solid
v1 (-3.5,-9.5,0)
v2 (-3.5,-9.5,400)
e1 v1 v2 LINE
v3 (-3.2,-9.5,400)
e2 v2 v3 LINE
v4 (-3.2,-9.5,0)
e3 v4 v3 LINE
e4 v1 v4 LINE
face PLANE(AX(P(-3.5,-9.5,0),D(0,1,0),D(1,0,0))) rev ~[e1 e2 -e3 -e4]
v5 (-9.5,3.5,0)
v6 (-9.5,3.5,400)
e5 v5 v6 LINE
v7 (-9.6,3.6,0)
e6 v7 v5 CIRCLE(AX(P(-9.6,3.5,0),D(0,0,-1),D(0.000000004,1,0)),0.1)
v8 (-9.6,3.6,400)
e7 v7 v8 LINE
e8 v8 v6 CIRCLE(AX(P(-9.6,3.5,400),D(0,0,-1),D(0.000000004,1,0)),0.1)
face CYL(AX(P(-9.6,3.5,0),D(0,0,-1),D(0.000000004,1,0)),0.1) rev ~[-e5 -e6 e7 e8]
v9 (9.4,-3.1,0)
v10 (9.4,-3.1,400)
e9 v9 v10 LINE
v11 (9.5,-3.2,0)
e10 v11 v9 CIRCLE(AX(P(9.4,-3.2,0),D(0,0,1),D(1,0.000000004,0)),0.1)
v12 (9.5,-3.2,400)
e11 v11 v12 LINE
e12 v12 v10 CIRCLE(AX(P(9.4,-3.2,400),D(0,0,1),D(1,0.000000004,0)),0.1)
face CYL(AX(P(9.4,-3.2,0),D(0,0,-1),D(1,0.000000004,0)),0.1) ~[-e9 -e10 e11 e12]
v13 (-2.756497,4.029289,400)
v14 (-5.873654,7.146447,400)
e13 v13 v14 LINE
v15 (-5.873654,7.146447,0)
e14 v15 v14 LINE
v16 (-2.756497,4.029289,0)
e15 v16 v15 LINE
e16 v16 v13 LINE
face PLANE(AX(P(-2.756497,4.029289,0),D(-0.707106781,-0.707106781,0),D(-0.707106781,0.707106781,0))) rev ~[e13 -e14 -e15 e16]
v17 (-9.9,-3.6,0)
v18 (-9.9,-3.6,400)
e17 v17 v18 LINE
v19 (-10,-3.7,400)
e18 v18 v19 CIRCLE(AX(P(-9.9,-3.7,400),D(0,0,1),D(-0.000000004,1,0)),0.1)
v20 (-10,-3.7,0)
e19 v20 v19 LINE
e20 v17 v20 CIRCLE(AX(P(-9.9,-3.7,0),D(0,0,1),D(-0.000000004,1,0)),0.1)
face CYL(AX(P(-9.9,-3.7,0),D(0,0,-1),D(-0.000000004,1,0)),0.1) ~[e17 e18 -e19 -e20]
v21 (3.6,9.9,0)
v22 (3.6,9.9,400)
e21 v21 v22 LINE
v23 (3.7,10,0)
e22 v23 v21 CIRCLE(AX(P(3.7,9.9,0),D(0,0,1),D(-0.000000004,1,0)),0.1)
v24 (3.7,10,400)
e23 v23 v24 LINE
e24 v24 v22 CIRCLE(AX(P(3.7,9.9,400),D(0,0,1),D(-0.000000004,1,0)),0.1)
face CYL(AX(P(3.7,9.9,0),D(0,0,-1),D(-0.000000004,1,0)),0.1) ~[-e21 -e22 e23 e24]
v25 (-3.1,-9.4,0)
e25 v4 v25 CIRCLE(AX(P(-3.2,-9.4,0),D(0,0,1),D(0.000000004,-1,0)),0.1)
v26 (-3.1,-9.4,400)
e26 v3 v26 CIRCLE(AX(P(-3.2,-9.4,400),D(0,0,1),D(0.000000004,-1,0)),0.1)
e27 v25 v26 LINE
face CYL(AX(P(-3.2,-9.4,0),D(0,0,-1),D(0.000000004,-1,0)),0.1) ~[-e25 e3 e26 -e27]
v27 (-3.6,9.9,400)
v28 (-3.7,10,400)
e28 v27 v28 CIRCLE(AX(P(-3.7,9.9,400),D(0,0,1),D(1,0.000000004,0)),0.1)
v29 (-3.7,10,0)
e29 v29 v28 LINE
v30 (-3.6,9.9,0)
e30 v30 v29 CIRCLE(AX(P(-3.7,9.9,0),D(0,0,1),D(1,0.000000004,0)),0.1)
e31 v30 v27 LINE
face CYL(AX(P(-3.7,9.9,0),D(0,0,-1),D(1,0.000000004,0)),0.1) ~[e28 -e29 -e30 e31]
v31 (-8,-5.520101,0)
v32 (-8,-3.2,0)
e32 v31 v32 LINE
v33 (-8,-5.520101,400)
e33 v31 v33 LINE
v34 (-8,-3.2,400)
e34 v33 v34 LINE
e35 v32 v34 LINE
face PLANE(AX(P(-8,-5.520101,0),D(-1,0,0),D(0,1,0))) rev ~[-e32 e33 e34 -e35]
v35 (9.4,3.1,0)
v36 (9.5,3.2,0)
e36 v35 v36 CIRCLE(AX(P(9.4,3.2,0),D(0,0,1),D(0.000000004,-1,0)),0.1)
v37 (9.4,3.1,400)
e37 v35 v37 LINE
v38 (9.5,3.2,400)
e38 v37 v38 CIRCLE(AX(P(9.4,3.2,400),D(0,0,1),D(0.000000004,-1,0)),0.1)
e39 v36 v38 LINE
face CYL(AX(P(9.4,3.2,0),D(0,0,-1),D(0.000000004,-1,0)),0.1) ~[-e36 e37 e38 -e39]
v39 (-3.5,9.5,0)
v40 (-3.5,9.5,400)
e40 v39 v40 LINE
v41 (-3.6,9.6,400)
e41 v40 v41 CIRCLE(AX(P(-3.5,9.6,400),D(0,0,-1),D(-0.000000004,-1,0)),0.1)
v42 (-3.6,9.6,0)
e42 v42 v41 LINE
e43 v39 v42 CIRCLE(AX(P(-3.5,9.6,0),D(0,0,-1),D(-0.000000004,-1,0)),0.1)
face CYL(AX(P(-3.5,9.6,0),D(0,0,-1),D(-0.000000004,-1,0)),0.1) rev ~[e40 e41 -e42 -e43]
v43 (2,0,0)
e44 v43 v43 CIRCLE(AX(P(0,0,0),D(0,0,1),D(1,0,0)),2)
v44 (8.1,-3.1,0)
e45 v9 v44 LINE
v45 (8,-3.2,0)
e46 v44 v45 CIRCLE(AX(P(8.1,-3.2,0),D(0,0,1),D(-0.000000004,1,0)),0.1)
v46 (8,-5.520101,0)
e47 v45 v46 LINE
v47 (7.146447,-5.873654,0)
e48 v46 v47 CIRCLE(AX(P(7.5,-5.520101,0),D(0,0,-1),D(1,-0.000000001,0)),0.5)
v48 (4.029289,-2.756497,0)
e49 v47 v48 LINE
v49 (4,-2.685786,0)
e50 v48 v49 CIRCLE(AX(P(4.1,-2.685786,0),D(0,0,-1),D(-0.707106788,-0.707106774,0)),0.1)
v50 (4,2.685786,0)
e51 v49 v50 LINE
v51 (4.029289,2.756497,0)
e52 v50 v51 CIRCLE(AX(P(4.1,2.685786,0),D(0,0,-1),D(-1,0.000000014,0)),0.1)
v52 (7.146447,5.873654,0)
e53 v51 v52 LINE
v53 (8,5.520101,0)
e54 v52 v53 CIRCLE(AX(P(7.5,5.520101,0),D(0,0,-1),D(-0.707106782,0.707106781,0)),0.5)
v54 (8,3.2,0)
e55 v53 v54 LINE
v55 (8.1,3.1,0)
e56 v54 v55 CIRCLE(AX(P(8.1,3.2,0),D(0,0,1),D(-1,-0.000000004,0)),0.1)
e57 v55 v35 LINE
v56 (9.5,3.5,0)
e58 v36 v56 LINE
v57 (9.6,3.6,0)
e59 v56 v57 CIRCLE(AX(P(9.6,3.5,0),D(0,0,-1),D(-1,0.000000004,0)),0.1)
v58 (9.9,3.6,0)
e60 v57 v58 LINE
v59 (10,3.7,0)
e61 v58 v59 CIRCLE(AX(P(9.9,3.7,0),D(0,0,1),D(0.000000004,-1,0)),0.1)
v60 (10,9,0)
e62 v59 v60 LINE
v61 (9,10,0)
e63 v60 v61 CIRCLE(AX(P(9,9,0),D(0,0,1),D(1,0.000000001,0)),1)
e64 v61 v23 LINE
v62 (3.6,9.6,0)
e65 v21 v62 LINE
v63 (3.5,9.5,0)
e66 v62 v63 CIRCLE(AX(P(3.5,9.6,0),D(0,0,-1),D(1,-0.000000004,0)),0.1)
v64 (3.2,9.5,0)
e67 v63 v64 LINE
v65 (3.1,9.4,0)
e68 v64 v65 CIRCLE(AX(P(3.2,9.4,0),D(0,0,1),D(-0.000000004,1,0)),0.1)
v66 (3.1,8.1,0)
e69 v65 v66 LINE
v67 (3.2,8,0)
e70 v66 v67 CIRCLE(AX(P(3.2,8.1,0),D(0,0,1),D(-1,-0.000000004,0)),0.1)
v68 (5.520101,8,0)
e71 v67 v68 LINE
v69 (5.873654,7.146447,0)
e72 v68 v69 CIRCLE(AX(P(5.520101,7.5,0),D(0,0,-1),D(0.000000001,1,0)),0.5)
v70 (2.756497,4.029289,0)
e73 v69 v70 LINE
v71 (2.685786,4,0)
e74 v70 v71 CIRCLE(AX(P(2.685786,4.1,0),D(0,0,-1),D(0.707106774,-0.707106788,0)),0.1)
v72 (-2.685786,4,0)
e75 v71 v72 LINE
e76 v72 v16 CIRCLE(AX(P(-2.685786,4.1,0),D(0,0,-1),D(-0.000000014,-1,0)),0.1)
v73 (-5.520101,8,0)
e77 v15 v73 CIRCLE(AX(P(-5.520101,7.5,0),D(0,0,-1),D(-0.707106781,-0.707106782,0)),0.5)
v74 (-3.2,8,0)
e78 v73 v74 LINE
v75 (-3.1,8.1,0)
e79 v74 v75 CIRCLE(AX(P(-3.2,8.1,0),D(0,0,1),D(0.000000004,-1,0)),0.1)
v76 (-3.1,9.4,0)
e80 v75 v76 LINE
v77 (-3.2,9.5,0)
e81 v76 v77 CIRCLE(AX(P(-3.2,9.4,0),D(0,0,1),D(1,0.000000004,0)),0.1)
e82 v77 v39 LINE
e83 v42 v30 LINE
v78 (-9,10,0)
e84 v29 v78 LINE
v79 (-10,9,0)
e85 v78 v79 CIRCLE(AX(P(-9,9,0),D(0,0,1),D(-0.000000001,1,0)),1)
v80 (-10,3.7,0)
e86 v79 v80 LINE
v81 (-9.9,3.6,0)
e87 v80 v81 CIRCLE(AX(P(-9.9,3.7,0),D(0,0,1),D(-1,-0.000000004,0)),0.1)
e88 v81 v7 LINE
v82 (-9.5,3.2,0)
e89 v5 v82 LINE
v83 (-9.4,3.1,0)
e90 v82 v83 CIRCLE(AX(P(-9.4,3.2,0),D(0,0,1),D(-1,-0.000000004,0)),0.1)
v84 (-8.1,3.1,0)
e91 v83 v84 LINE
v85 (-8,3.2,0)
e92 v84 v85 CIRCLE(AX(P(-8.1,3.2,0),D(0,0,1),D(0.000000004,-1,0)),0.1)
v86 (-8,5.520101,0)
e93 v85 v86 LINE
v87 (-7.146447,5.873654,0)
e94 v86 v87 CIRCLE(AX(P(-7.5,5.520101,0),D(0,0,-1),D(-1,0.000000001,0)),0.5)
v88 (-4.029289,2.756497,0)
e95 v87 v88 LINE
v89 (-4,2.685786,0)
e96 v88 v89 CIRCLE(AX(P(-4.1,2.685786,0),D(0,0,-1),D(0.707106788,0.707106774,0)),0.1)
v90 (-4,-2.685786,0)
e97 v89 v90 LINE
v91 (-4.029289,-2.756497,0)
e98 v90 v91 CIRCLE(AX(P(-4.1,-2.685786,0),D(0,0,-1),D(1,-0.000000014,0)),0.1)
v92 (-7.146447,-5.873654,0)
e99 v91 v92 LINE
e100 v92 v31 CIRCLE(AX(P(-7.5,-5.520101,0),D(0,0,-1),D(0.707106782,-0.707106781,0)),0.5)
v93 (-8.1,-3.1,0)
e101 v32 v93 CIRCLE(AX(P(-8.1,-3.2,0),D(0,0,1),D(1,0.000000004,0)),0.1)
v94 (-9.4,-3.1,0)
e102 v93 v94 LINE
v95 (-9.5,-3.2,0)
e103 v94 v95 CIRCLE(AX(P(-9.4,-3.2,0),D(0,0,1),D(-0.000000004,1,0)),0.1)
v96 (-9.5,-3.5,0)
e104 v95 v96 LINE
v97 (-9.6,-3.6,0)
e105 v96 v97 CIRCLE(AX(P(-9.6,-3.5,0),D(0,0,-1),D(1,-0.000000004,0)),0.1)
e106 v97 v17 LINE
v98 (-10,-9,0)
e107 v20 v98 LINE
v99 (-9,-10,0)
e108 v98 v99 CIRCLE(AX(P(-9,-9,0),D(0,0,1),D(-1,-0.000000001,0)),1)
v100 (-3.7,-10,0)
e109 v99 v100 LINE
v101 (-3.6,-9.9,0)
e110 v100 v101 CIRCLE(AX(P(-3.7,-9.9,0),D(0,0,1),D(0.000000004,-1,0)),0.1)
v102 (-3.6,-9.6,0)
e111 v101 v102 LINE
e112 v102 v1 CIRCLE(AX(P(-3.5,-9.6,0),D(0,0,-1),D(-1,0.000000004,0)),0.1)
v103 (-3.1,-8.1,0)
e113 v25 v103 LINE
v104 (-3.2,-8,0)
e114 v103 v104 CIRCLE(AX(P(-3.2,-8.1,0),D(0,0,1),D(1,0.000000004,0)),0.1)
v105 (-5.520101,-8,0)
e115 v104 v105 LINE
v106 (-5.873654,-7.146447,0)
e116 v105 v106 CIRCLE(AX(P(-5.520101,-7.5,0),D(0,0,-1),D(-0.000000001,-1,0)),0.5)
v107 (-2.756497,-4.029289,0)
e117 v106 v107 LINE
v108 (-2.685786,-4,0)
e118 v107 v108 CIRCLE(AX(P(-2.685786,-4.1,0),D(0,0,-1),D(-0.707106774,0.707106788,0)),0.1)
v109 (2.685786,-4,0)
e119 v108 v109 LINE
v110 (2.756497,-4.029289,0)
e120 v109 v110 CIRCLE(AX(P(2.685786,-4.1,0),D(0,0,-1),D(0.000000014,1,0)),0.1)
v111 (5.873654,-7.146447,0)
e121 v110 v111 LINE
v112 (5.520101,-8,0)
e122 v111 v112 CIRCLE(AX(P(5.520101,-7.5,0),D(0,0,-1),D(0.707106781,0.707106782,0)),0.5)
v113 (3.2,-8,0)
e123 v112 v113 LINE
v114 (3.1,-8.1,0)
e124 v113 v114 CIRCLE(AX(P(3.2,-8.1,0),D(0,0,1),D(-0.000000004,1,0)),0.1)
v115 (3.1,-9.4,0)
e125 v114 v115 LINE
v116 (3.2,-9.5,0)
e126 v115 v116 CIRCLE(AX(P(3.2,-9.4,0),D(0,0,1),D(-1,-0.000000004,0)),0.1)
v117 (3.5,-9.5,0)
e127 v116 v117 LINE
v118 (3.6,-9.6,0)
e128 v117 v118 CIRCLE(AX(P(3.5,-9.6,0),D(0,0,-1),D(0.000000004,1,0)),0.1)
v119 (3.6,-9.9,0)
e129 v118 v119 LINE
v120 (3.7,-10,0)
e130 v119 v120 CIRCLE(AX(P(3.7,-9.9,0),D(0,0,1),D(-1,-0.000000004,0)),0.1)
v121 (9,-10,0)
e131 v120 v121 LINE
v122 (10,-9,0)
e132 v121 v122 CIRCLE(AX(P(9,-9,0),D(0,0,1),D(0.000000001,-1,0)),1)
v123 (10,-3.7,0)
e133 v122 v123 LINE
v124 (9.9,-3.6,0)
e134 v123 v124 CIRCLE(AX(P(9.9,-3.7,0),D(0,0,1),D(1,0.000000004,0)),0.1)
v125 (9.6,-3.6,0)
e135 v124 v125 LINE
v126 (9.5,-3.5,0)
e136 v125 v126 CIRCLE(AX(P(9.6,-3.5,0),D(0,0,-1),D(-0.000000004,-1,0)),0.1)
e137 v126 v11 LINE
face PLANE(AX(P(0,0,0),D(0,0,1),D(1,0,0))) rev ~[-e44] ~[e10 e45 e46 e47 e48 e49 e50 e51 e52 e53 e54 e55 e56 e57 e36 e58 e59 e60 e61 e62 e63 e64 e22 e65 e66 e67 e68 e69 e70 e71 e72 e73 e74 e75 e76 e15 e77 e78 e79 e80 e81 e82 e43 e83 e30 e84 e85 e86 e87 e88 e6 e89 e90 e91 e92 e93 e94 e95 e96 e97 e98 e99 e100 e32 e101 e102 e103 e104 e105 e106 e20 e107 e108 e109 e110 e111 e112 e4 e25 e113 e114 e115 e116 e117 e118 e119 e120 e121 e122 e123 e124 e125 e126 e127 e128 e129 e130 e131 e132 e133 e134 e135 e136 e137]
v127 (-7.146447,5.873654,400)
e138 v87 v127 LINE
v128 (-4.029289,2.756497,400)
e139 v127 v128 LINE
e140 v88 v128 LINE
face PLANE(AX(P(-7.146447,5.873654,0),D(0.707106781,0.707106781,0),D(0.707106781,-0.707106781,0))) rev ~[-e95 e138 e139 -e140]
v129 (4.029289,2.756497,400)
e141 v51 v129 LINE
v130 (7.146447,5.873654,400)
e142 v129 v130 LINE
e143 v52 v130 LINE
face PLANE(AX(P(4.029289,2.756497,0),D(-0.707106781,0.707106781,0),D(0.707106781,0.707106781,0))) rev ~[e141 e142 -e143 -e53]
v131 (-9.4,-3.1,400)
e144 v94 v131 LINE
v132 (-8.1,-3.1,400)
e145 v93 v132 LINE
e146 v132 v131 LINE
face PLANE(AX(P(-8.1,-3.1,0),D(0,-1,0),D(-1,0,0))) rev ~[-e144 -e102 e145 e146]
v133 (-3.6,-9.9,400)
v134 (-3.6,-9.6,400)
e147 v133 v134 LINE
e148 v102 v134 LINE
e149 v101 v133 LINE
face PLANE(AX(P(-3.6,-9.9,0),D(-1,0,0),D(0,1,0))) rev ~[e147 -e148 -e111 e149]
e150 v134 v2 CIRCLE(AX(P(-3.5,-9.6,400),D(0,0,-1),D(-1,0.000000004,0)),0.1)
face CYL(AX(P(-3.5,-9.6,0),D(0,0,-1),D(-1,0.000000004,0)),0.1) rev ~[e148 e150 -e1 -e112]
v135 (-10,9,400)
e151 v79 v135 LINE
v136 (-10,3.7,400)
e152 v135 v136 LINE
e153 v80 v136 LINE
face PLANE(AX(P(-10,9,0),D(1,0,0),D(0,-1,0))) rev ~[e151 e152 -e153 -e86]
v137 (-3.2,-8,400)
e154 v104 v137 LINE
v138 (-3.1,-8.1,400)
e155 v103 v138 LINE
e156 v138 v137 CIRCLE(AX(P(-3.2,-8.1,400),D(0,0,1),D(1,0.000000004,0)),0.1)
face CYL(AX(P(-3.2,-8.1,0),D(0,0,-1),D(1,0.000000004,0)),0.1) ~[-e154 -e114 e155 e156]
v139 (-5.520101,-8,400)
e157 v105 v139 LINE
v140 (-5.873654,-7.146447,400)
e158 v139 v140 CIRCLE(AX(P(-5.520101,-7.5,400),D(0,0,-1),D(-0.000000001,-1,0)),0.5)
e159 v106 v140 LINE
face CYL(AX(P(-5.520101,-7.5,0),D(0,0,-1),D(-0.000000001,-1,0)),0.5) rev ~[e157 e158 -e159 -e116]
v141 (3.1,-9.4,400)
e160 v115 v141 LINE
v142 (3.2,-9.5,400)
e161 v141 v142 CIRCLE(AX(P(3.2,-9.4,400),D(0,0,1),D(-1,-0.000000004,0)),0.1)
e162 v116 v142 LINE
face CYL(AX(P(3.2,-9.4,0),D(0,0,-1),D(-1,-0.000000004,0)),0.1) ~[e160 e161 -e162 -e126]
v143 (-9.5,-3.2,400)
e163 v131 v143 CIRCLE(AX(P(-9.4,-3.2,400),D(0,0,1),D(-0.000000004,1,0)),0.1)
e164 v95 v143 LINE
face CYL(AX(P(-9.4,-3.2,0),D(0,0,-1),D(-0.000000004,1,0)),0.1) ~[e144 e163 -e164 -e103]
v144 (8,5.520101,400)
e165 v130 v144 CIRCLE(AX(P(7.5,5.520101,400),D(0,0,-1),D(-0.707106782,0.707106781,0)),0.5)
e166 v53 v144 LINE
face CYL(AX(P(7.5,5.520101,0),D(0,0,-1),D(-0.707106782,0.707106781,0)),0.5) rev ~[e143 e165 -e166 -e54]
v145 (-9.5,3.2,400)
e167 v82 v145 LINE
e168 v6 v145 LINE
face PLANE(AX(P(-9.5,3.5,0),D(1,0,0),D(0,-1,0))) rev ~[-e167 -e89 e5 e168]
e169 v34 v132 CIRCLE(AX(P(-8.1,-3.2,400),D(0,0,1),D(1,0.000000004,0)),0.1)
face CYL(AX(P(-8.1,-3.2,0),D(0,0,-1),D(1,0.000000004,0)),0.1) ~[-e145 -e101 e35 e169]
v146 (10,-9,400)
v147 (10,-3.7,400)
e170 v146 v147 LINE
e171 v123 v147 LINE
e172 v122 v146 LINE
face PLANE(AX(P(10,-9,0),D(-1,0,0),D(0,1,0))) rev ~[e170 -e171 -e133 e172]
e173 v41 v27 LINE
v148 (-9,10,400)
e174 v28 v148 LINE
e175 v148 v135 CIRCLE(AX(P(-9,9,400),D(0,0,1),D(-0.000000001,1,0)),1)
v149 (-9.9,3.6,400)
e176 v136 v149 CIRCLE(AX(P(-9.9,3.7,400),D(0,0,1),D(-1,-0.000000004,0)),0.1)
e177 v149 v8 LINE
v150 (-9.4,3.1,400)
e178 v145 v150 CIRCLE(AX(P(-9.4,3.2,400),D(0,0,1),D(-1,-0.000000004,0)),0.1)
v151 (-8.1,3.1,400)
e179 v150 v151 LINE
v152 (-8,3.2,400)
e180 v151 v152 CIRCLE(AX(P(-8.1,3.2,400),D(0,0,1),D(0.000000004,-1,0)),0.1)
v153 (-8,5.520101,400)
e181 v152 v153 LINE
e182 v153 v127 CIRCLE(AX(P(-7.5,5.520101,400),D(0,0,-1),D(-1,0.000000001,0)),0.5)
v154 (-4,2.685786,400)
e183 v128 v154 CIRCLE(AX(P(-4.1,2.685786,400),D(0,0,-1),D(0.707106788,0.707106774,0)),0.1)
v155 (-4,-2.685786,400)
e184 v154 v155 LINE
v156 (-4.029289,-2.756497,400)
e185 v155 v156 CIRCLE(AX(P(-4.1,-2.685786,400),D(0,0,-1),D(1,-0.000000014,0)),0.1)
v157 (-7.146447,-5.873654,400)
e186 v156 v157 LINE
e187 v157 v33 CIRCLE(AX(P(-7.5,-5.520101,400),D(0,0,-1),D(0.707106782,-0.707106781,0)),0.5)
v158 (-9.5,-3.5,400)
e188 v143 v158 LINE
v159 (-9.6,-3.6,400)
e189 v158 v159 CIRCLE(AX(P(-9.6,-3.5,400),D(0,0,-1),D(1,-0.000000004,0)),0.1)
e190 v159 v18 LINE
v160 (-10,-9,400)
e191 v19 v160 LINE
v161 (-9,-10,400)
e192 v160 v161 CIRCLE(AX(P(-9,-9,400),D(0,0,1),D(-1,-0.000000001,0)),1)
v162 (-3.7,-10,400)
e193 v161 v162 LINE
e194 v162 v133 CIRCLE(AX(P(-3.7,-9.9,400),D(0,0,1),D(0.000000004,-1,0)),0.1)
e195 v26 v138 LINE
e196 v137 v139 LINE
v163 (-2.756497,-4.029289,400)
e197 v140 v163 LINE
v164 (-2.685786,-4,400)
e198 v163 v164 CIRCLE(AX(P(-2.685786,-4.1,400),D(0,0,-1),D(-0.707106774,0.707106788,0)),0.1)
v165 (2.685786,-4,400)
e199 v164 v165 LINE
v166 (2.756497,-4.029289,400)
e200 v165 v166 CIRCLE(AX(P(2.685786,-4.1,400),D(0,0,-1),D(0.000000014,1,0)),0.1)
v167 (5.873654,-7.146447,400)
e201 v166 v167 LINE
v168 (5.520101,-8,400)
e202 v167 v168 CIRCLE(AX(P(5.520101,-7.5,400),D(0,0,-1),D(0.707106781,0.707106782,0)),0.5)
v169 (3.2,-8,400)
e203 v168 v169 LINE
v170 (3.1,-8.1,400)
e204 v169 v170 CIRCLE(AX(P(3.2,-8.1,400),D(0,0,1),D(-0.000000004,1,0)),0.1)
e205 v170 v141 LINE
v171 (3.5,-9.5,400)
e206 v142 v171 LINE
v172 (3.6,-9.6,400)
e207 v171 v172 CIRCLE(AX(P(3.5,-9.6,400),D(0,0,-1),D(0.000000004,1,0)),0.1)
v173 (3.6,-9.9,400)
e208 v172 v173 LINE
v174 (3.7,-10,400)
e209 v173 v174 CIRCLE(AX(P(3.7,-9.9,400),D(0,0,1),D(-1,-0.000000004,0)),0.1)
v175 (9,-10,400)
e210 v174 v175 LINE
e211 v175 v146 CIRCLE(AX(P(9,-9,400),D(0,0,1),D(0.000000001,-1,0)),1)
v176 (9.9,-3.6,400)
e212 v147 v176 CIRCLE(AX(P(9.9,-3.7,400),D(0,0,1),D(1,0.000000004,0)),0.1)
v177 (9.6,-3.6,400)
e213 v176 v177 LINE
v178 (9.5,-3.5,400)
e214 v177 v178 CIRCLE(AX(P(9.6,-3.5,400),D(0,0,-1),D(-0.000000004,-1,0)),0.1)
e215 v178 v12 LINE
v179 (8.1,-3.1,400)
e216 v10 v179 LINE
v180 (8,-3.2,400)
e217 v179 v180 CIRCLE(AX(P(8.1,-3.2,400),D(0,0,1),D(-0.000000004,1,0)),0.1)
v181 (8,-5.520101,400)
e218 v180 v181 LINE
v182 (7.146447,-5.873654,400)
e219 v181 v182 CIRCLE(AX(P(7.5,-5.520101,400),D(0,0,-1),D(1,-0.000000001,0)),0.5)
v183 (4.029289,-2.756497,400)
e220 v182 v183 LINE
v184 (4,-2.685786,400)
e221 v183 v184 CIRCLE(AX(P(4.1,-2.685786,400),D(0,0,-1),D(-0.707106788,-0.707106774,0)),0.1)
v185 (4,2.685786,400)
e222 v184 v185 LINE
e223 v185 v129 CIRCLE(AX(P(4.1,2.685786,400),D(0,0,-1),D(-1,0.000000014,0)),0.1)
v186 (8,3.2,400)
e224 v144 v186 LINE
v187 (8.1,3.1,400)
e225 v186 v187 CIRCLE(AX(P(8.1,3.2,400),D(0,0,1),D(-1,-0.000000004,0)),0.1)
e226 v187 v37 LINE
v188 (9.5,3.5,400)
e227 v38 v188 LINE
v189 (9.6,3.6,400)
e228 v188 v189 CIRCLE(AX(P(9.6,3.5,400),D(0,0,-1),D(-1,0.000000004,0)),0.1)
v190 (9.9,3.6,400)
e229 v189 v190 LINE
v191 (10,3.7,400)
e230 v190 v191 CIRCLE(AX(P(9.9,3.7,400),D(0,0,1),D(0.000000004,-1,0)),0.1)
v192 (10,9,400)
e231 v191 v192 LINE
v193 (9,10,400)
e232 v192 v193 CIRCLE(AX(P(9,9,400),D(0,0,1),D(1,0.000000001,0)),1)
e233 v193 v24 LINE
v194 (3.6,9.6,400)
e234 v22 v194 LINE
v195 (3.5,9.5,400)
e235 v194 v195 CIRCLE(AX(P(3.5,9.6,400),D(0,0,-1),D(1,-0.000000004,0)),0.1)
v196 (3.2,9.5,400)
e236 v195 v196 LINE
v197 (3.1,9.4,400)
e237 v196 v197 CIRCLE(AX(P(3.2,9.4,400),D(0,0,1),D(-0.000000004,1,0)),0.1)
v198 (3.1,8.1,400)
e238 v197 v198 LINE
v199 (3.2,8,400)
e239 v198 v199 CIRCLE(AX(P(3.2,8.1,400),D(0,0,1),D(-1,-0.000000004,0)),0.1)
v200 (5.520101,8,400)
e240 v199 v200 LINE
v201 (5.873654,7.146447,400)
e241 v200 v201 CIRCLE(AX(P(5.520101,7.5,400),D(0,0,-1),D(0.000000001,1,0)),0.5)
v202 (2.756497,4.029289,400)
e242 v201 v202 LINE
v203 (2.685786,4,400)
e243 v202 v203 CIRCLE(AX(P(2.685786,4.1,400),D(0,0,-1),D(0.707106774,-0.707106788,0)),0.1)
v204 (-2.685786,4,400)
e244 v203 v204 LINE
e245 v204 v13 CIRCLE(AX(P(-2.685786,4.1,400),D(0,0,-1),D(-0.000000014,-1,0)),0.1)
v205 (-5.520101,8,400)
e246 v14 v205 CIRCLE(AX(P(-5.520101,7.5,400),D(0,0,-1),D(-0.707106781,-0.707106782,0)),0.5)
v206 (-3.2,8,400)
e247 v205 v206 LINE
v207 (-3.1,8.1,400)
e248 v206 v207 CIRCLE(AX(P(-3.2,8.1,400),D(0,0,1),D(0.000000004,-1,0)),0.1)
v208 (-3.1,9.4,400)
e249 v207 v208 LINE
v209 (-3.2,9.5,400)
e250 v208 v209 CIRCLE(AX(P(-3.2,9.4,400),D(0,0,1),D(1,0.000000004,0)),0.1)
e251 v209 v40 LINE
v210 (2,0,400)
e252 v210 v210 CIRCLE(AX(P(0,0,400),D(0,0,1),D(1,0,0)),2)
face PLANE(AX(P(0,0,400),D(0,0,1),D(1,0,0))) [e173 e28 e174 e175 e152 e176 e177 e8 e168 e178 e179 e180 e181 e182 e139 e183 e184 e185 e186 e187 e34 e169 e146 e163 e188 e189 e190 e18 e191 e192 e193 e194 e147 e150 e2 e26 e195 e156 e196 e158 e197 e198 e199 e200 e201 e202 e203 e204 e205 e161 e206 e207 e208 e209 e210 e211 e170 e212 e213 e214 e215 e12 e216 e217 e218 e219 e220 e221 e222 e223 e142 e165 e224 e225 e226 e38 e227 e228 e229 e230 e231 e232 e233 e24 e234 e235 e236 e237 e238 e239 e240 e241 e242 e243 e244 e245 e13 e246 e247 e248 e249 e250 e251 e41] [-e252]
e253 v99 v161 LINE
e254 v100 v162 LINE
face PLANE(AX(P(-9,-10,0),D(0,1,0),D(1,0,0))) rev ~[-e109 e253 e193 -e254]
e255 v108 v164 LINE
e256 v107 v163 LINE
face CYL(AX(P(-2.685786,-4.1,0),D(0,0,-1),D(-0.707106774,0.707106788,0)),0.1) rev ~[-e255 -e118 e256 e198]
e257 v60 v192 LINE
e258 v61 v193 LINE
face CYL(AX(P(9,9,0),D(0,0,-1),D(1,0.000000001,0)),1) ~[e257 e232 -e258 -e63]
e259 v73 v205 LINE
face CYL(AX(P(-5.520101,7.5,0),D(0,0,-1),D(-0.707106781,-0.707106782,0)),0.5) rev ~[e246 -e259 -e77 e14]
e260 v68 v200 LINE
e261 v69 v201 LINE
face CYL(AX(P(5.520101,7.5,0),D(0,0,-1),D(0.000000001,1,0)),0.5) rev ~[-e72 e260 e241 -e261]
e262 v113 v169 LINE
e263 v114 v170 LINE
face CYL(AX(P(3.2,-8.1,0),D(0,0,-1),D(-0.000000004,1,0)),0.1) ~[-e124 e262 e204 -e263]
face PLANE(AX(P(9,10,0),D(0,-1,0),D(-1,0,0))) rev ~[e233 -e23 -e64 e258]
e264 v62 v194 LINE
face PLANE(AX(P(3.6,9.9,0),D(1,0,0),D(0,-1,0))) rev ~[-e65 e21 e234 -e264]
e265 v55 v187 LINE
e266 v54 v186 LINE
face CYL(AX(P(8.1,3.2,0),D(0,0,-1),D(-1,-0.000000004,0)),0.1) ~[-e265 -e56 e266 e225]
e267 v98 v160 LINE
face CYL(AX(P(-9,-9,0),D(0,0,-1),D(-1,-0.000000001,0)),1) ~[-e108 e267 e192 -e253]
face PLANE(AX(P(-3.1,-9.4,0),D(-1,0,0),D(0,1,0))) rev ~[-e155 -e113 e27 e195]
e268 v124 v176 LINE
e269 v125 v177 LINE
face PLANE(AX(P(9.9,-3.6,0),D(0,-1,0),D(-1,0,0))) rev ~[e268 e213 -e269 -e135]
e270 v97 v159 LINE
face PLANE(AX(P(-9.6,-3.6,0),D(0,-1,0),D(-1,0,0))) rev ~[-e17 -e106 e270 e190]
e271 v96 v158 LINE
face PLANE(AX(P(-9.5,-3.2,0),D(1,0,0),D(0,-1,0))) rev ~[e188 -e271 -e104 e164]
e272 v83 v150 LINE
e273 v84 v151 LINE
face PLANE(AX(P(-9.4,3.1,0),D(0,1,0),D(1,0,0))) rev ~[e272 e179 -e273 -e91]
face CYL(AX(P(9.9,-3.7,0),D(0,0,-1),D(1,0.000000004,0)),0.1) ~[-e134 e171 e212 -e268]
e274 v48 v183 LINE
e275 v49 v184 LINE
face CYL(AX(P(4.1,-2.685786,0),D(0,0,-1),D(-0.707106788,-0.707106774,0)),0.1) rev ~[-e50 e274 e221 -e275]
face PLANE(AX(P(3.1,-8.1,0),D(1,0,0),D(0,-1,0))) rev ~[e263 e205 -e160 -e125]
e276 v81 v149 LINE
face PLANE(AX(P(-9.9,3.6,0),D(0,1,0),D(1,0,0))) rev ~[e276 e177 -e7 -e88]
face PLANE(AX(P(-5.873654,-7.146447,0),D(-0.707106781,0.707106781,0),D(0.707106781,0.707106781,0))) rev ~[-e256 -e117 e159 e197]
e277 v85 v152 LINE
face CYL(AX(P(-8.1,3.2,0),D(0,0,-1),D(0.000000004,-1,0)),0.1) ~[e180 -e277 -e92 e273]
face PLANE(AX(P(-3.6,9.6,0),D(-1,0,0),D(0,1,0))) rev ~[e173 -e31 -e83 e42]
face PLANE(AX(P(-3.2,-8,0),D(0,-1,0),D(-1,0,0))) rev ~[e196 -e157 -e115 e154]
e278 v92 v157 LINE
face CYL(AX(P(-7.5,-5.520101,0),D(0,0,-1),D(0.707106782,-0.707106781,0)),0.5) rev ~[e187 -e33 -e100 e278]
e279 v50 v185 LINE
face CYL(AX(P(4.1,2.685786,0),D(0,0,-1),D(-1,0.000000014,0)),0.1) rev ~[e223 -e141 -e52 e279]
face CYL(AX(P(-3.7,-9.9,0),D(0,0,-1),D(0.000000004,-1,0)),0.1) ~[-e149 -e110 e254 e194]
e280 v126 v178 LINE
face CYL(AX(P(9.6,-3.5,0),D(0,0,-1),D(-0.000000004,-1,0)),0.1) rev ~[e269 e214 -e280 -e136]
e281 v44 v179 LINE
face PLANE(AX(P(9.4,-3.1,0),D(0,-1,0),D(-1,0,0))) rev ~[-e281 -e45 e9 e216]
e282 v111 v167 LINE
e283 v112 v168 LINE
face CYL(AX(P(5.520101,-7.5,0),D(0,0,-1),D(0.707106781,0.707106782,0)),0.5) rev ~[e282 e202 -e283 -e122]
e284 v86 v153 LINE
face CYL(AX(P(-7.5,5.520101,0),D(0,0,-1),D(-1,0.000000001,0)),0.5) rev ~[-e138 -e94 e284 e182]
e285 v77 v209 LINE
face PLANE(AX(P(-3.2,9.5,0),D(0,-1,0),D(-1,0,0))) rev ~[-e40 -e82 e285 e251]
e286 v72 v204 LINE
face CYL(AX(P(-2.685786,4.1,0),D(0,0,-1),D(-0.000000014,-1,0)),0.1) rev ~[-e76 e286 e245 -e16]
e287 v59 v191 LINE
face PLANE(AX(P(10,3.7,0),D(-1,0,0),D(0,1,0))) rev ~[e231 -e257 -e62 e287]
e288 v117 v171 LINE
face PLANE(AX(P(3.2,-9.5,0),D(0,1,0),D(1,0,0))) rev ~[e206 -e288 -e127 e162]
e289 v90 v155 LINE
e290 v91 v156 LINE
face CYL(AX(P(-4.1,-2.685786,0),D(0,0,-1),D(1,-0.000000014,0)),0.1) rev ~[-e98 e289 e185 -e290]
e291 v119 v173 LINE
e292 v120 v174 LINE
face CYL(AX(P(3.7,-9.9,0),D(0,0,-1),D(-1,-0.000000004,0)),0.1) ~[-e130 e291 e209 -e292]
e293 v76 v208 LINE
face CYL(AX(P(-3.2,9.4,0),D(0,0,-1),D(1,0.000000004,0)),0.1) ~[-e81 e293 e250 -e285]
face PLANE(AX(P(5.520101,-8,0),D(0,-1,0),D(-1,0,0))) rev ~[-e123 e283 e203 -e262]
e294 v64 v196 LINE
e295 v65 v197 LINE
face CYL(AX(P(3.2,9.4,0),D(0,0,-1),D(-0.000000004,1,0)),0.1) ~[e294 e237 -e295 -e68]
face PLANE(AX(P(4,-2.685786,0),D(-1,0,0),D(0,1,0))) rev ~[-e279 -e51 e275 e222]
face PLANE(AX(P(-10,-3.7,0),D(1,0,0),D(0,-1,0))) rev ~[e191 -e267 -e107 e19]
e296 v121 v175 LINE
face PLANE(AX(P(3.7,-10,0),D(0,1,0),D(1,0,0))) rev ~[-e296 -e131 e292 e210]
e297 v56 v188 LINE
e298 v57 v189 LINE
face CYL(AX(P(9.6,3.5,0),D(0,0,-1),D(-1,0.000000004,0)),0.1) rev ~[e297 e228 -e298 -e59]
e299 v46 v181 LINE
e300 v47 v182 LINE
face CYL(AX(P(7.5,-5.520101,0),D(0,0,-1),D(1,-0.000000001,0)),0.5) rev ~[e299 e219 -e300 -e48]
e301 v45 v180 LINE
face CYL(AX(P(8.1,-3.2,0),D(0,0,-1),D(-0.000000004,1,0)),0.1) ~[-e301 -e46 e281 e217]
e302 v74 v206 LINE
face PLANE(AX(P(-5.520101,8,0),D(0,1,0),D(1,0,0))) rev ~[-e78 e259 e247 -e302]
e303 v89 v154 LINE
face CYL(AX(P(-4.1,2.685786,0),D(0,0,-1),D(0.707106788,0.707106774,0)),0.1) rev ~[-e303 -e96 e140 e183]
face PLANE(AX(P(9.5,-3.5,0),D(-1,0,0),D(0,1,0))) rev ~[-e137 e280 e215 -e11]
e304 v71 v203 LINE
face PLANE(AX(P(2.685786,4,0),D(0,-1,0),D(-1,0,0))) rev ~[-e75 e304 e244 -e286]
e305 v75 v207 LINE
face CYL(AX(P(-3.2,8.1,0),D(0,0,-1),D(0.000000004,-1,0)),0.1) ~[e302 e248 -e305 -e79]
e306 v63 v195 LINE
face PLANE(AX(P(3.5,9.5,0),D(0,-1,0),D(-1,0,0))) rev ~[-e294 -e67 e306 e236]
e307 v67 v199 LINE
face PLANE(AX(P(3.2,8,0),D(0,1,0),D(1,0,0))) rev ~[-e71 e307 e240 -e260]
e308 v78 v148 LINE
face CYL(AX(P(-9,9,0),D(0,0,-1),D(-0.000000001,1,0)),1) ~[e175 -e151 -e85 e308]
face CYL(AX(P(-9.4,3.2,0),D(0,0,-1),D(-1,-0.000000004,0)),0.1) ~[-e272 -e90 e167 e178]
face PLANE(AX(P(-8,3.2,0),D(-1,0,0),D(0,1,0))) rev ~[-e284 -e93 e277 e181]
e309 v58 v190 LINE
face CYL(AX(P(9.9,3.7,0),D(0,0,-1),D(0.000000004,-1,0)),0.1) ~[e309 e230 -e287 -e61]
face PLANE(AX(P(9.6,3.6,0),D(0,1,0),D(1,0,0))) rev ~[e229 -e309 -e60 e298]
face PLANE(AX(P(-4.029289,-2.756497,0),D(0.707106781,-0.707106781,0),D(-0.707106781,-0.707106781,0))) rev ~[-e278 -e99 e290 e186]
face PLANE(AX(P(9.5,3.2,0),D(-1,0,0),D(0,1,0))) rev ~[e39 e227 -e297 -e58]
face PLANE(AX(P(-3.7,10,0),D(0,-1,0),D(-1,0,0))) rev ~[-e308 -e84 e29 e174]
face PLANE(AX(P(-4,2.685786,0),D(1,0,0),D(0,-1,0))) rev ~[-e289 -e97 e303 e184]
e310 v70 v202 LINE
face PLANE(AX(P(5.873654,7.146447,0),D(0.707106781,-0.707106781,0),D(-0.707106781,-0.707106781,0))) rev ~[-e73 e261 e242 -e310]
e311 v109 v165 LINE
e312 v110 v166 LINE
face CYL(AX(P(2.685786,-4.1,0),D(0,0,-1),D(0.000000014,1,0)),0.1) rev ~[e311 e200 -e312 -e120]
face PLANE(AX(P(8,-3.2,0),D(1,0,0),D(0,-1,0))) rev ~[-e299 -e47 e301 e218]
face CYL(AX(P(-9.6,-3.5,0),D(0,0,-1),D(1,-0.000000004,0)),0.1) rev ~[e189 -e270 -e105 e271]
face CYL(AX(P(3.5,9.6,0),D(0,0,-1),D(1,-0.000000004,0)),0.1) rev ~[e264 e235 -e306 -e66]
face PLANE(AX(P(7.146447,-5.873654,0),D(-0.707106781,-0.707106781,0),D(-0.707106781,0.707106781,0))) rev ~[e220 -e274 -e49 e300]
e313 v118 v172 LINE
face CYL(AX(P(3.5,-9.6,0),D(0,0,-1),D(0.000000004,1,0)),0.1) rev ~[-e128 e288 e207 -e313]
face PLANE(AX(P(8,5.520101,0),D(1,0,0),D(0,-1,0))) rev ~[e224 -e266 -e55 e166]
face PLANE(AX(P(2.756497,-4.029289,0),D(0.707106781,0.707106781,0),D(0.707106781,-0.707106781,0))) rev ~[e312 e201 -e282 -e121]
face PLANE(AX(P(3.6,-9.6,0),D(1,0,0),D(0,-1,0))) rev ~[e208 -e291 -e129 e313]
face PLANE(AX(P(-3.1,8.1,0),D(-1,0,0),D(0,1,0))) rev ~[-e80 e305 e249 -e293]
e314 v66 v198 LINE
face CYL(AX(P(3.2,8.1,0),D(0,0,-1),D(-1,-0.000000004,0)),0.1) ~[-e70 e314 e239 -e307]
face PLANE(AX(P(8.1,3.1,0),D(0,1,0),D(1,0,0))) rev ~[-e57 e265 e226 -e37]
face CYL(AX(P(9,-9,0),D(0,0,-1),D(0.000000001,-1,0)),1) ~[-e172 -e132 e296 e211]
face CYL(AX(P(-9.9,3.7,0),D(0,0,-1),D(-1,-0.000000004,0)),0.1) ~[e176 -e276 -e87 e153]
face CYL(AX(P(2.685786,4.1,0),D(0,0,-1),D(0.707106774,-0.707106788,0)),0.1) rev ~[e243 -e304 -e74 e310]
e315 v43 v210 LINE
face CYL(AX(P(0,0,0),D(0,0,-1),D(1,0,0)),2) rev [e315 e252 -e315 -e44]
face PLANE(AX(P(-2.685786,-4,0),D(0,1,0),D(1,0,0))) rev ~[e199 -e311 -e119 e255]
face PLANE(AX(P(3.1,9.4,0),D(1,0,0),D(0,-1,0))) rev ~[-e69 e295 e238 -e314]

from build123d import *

# Parameters (mm, degrees)
SKETCH1_R           = 2
BOSS_EXTRUDE1_DEPTH = 400


with BuildPart() as part:
    # Sketch1 → Boss-Extrude1 (new body)
    with BuildSketch(Plane.XY):
        with BuildLine():
            Line((-10, 9), (-10, 3.7))
            ThreePointArc((-10, 3.7), (-9.970710678, 3.629289322), (-9.9, 3.6))
            Line((-9.9, 3.6), (-9.6, 3.6))
            ThreePointArc((-9.6, 3.6), (-9.529289322, 3.570710678), (-9.5, 3.5))
            Line((-9.5, 3.5), (-9.5, 3.2))
            ThreePointArc((-9.5, 3.2), (-9.470710678, 3.129289322), (-9.4, 3.1))
            Line((-9.4, 3.1), (-8.1, 3.1))
            ThreePointArc((-8.1, 3.1), (-8.029289322, 3.129289322), (-8, 3.2))
            Line((-8, 3.2), (-8, 5.520101013))
            ThreePointArc((-8, 5.520101013), (-7.691341716, 5.982040779), (-7.146446609, 5.873654403))
            Line((-7.146446609, 5.873654403), (-4.029289322, 2.756497116))
            ThreePointArc((-4.029289322, 2.756497116), (-4.007612047, 2.724054781), (-4, 2.685786438))
            Line((-4, 2.685786438), (-4, 0))
            Line((-4, 0), (-4, -2.685786438))
            ThreePointArc((-4, -2.685786438), (-4.007612047, -2.724054781), (-4.029289322, -2.756497116))
            Line((-4.029289322, -2.756497116), (-7.146446609, -5.873654403))
            ThreePointArc((-7.146446609, -5.873654403), (-7.691341716, -5.982040779), (-8, -5.520101013))
            Line((-8, -5.520101013), (-8, -3.2))
            ThreePointArc((-8, -3.2), (-8.029289322, -3.129289322), (-8.1, -3.1))
            Line((-8.1, -3.1), (-9.4, -3.1))
            ThreePointArc((-9.4, -3.1), (-9.470710678, -3.129289322), (-9.5, -3.2))
            Line((-9.5, -3.2), (-9.5, -3.5))
            ThreePointArc((-9.5, -3.5), (-9.529289322, -3.570710678), (-9.6, -3.6))
            Line((-9.6, -3.6), (-9.9, -3.6))
            ThreePointArc((-9.9, -3.6), (-9.970710678, -3.629289322), (-10, -3.7))
            Line((-10, -3.7), (-10, -9))
            ThreePointArc((-10, -9), (-9.707106781, -9.707106781), (-9, -10))
            Line((-9, -10), (-3.7, -10))
            ThreePointArc((-3.7, -10), (-3.629289322, -9.970710678), (-3.6, -9.9))
            Line((-3.6, -9.9), (-3.6, -9.6))
            ThreePointArc((-3.6, -9.6), (-3.570710678, -9.529289322), (-3.5, -9.5))
            Line((-3.5, -9.5), (-3.2, -9.5))
            ThreePointArc((-3.2, -9.5), (-3.129289322, -9.470710678), (-3.1, -9.4))
            Line((-3.1, -9.4), (-3.1, -8.1))
            ThreePointArc((-3.1, -8.1), (-3.129289322, -8.029289322), (-3.2, -8))
            Line((-3.2, -8), (-5.520101013, -8))
            ThreePointArc((-5.520101013, -8), (-5.982040779, -7.691341716), (-5.873654403, -7.146446609))
            Line((-5.873654403, -7.146446609), (-2.756497116, -4.029289322))
            ThreePointArc((-2.756497116, -4.029289322), (-2.724054781, -4.007612047), (-2.685786438, -4))
            Line((-2.685786438, -4), (2.685786438, -4))
            ThreePointArc((2.685786438, -4), (2.724054781, -4.007612047), (2.756497116, -4.029289322))
            Line((2.756497116, -4.029289322), (5.873654403, -7.146446609))
            ThreePointArc((5.873654403, -7.146446609), (5.982040779, -7.691341716), (5.520101013, -8))
            Line((5.520101013, -8), (3.2, -8))
            ThreePointArc((3.2, -8), (3.129289322, -8.029289322), (3.1, -8.1))
            Line((3.1, -8.1), (3.1, -9.4))
            ThreePointArc((3.1, -9.4), (3.129289322, -9.470710678), (3.2, -9.5))
            Line((3.2, -9.5), (3.5, -9.5))
            ThreePointArc((3.5, -9.5), (3.570710678, -9.529289322), (3.6, -9.6))
            Line((3.6, -9.6), (3.6, -9.9))
            ThreePointArc((3.6, -9.9), (3.629289322, -9.970710678), (3.7, -10))
            Line((3.7, -10), (9, -10))
            ThreePointArc((9, -10), (9.707106781, -9.707106781), (10, -9))
            Line((10, -9), (10, -3.7))
            ThreePointArc((10, -3.7), (9.970710678, -3.629289322), (9.9, -3.6))
            Line((9.9, -3.6), (9.6, -3.6))
            ThreePointArc((9.6, -3.6), (9.529289322, -3.570710678), (9.5, -3.5))
            Line((9.5, -3.5), (9.5, -3.2))
            ThreePointArc((9.5, -3.2), (9.470710678, -3.129289322), (9.4, -3.1))
            Line((9.4, -3.1), (8.1, -3.1))
            ThreePointArc((8.1, -3.1), (8.029289322, -3.129289322), (8, -3.2))
            Line((8, -3.2), (8, -5.520101013))
            ThreePointArc((8, -5.520101013), (7.691341716, -5.982040779), (7.146446609, -5.873654403))
            Line((7.146446609, -5.873654403), (4.029289322, -2.756497116))
            ThreePointArc((4.029289322, -2.756497116), (4.007612047, -2.724054781), (4, -2.685786438))
            Line((4, -2.685786438), (4, 0))
            Line((4, 0), (4, 2.685786438))
            ThreePointArc((4, 2.685786438), (4.007612047, 2.724054781), (4.029289322, 2.756497116))
            Line((4.029289322, 2.756497116), (7.146446609, 5.873654403))
            ThreePointArc((7.146446609, 5.873654403), (7.691341716, 5.982040779), (8, 5.520101013))
            Line((8, 5.520101013), (8, 3.2))
            ThreePointArc((8, 3.2), (8.029289322, 3.129289322), (8.1, 3.1))
            Line((8.1, 3.1), (9.4, 3.1))
            ThreePointArc((9.4, 3.1), (9.470710678, 3.129289322), (9.5, 3.2))
            Line((9.5, 3.2), (9.5, 3.5))
            ThreePointArc((9.5, 3.5), (9.529289322, 3.570710678), (9.6, 3.6))
            Line((9.6, 3.6), (9.9, 3.6))
            ThreePointArc((9.9, 3.6), (9.970710678, 3.629289322), (10, 3.7))
            Line((10, 3.7), (10, 9))
            ThreePointArc((10, 9), (9.707106781, 9.707106781), (9, 10))
            Line((9, 10), (3.7, 10))
            ThreePointArc((3.7, 10), (3.629289322, 9.970710678), (3.6, 9.9))
            Line((3.6, 9.9), (3.6, 9.6))
            ThreePointArc((3.6, 9.6), (3.570710678, 9.529289322), (3.5, 9.5))
            Line((3.5, 9.5), (3.2, 9.5))
            ThreePointArc((3.2, 9.5), (3.129289322, 9.470710678), (3.1, 9.4))
            Line((3.1, 9.4), (3.1, 8.1))
            ThreePointArc((3.1, 8.1), (3.129289322, 8.029289322), (3.2, 8))
            Line((3.2, 8), (5.520101013, 8))
            ThreePointArc((5.520101013, 8), (5.982040779, 7.691341716), (5.873654403, 7.146446609))
            Line((5.873654403, 7.146446609), (2.756497116, 4.029289322))
            ThreePointArc((2.756497116, 4.029289322), (2.724054781, 4.007612047), (2.685786438, 4))
            Line((2.685786438, 4), (-2.685786438, 4))
            ThreePointArc((-2.685786438, 4), (-2.724054781, 4.007612047), (-2.756497116, 4.029289322))
            Line((-2.756497116, 4.029289322), (-5.873654403, 7.146446609))
            ThreePointArc((-5.873654403, 7.146446609), (-5.982040779, 7.691341716), (-5.520101013, 8))
            Line((-5.520101013, 8), (-3.2, 8))
            ThreePointArc((-3.2, 8), (-3.129289322, 8.029289322), (-3.1, 8.1))
            Line((-3.1, 8.1), (-3.1, 9.4))
            ThreePointArc((-3.1, 9.4), (-3.129289322, 9.470710678), (-3.2, 9.5))
            Line((-3.2, 9.5), (-3.5, 9.5))
            ThreePointArc((-3.5, 9.5), (-3.570710678, 9.529289322), (-3.6, 9.6))
            Line((-3.6, 9.6), (-3.6, 9.9))
            ThreePointArc((-3.6, 9.9), (-3.629289322, 9.970710678), (-3.7, 10))
            Line((-3.7, 10), (-9, 10))
            ThreePointArc((-9, 10), (-9.707106781, 9.707106781), (-10, 9))
        make_face()
        Circle(SKETCH1_R, mode=Mode.SUBTRACT)
    extrude(amount=BOSS_EXTRUDE1_DEPTH)


solid = part.part
